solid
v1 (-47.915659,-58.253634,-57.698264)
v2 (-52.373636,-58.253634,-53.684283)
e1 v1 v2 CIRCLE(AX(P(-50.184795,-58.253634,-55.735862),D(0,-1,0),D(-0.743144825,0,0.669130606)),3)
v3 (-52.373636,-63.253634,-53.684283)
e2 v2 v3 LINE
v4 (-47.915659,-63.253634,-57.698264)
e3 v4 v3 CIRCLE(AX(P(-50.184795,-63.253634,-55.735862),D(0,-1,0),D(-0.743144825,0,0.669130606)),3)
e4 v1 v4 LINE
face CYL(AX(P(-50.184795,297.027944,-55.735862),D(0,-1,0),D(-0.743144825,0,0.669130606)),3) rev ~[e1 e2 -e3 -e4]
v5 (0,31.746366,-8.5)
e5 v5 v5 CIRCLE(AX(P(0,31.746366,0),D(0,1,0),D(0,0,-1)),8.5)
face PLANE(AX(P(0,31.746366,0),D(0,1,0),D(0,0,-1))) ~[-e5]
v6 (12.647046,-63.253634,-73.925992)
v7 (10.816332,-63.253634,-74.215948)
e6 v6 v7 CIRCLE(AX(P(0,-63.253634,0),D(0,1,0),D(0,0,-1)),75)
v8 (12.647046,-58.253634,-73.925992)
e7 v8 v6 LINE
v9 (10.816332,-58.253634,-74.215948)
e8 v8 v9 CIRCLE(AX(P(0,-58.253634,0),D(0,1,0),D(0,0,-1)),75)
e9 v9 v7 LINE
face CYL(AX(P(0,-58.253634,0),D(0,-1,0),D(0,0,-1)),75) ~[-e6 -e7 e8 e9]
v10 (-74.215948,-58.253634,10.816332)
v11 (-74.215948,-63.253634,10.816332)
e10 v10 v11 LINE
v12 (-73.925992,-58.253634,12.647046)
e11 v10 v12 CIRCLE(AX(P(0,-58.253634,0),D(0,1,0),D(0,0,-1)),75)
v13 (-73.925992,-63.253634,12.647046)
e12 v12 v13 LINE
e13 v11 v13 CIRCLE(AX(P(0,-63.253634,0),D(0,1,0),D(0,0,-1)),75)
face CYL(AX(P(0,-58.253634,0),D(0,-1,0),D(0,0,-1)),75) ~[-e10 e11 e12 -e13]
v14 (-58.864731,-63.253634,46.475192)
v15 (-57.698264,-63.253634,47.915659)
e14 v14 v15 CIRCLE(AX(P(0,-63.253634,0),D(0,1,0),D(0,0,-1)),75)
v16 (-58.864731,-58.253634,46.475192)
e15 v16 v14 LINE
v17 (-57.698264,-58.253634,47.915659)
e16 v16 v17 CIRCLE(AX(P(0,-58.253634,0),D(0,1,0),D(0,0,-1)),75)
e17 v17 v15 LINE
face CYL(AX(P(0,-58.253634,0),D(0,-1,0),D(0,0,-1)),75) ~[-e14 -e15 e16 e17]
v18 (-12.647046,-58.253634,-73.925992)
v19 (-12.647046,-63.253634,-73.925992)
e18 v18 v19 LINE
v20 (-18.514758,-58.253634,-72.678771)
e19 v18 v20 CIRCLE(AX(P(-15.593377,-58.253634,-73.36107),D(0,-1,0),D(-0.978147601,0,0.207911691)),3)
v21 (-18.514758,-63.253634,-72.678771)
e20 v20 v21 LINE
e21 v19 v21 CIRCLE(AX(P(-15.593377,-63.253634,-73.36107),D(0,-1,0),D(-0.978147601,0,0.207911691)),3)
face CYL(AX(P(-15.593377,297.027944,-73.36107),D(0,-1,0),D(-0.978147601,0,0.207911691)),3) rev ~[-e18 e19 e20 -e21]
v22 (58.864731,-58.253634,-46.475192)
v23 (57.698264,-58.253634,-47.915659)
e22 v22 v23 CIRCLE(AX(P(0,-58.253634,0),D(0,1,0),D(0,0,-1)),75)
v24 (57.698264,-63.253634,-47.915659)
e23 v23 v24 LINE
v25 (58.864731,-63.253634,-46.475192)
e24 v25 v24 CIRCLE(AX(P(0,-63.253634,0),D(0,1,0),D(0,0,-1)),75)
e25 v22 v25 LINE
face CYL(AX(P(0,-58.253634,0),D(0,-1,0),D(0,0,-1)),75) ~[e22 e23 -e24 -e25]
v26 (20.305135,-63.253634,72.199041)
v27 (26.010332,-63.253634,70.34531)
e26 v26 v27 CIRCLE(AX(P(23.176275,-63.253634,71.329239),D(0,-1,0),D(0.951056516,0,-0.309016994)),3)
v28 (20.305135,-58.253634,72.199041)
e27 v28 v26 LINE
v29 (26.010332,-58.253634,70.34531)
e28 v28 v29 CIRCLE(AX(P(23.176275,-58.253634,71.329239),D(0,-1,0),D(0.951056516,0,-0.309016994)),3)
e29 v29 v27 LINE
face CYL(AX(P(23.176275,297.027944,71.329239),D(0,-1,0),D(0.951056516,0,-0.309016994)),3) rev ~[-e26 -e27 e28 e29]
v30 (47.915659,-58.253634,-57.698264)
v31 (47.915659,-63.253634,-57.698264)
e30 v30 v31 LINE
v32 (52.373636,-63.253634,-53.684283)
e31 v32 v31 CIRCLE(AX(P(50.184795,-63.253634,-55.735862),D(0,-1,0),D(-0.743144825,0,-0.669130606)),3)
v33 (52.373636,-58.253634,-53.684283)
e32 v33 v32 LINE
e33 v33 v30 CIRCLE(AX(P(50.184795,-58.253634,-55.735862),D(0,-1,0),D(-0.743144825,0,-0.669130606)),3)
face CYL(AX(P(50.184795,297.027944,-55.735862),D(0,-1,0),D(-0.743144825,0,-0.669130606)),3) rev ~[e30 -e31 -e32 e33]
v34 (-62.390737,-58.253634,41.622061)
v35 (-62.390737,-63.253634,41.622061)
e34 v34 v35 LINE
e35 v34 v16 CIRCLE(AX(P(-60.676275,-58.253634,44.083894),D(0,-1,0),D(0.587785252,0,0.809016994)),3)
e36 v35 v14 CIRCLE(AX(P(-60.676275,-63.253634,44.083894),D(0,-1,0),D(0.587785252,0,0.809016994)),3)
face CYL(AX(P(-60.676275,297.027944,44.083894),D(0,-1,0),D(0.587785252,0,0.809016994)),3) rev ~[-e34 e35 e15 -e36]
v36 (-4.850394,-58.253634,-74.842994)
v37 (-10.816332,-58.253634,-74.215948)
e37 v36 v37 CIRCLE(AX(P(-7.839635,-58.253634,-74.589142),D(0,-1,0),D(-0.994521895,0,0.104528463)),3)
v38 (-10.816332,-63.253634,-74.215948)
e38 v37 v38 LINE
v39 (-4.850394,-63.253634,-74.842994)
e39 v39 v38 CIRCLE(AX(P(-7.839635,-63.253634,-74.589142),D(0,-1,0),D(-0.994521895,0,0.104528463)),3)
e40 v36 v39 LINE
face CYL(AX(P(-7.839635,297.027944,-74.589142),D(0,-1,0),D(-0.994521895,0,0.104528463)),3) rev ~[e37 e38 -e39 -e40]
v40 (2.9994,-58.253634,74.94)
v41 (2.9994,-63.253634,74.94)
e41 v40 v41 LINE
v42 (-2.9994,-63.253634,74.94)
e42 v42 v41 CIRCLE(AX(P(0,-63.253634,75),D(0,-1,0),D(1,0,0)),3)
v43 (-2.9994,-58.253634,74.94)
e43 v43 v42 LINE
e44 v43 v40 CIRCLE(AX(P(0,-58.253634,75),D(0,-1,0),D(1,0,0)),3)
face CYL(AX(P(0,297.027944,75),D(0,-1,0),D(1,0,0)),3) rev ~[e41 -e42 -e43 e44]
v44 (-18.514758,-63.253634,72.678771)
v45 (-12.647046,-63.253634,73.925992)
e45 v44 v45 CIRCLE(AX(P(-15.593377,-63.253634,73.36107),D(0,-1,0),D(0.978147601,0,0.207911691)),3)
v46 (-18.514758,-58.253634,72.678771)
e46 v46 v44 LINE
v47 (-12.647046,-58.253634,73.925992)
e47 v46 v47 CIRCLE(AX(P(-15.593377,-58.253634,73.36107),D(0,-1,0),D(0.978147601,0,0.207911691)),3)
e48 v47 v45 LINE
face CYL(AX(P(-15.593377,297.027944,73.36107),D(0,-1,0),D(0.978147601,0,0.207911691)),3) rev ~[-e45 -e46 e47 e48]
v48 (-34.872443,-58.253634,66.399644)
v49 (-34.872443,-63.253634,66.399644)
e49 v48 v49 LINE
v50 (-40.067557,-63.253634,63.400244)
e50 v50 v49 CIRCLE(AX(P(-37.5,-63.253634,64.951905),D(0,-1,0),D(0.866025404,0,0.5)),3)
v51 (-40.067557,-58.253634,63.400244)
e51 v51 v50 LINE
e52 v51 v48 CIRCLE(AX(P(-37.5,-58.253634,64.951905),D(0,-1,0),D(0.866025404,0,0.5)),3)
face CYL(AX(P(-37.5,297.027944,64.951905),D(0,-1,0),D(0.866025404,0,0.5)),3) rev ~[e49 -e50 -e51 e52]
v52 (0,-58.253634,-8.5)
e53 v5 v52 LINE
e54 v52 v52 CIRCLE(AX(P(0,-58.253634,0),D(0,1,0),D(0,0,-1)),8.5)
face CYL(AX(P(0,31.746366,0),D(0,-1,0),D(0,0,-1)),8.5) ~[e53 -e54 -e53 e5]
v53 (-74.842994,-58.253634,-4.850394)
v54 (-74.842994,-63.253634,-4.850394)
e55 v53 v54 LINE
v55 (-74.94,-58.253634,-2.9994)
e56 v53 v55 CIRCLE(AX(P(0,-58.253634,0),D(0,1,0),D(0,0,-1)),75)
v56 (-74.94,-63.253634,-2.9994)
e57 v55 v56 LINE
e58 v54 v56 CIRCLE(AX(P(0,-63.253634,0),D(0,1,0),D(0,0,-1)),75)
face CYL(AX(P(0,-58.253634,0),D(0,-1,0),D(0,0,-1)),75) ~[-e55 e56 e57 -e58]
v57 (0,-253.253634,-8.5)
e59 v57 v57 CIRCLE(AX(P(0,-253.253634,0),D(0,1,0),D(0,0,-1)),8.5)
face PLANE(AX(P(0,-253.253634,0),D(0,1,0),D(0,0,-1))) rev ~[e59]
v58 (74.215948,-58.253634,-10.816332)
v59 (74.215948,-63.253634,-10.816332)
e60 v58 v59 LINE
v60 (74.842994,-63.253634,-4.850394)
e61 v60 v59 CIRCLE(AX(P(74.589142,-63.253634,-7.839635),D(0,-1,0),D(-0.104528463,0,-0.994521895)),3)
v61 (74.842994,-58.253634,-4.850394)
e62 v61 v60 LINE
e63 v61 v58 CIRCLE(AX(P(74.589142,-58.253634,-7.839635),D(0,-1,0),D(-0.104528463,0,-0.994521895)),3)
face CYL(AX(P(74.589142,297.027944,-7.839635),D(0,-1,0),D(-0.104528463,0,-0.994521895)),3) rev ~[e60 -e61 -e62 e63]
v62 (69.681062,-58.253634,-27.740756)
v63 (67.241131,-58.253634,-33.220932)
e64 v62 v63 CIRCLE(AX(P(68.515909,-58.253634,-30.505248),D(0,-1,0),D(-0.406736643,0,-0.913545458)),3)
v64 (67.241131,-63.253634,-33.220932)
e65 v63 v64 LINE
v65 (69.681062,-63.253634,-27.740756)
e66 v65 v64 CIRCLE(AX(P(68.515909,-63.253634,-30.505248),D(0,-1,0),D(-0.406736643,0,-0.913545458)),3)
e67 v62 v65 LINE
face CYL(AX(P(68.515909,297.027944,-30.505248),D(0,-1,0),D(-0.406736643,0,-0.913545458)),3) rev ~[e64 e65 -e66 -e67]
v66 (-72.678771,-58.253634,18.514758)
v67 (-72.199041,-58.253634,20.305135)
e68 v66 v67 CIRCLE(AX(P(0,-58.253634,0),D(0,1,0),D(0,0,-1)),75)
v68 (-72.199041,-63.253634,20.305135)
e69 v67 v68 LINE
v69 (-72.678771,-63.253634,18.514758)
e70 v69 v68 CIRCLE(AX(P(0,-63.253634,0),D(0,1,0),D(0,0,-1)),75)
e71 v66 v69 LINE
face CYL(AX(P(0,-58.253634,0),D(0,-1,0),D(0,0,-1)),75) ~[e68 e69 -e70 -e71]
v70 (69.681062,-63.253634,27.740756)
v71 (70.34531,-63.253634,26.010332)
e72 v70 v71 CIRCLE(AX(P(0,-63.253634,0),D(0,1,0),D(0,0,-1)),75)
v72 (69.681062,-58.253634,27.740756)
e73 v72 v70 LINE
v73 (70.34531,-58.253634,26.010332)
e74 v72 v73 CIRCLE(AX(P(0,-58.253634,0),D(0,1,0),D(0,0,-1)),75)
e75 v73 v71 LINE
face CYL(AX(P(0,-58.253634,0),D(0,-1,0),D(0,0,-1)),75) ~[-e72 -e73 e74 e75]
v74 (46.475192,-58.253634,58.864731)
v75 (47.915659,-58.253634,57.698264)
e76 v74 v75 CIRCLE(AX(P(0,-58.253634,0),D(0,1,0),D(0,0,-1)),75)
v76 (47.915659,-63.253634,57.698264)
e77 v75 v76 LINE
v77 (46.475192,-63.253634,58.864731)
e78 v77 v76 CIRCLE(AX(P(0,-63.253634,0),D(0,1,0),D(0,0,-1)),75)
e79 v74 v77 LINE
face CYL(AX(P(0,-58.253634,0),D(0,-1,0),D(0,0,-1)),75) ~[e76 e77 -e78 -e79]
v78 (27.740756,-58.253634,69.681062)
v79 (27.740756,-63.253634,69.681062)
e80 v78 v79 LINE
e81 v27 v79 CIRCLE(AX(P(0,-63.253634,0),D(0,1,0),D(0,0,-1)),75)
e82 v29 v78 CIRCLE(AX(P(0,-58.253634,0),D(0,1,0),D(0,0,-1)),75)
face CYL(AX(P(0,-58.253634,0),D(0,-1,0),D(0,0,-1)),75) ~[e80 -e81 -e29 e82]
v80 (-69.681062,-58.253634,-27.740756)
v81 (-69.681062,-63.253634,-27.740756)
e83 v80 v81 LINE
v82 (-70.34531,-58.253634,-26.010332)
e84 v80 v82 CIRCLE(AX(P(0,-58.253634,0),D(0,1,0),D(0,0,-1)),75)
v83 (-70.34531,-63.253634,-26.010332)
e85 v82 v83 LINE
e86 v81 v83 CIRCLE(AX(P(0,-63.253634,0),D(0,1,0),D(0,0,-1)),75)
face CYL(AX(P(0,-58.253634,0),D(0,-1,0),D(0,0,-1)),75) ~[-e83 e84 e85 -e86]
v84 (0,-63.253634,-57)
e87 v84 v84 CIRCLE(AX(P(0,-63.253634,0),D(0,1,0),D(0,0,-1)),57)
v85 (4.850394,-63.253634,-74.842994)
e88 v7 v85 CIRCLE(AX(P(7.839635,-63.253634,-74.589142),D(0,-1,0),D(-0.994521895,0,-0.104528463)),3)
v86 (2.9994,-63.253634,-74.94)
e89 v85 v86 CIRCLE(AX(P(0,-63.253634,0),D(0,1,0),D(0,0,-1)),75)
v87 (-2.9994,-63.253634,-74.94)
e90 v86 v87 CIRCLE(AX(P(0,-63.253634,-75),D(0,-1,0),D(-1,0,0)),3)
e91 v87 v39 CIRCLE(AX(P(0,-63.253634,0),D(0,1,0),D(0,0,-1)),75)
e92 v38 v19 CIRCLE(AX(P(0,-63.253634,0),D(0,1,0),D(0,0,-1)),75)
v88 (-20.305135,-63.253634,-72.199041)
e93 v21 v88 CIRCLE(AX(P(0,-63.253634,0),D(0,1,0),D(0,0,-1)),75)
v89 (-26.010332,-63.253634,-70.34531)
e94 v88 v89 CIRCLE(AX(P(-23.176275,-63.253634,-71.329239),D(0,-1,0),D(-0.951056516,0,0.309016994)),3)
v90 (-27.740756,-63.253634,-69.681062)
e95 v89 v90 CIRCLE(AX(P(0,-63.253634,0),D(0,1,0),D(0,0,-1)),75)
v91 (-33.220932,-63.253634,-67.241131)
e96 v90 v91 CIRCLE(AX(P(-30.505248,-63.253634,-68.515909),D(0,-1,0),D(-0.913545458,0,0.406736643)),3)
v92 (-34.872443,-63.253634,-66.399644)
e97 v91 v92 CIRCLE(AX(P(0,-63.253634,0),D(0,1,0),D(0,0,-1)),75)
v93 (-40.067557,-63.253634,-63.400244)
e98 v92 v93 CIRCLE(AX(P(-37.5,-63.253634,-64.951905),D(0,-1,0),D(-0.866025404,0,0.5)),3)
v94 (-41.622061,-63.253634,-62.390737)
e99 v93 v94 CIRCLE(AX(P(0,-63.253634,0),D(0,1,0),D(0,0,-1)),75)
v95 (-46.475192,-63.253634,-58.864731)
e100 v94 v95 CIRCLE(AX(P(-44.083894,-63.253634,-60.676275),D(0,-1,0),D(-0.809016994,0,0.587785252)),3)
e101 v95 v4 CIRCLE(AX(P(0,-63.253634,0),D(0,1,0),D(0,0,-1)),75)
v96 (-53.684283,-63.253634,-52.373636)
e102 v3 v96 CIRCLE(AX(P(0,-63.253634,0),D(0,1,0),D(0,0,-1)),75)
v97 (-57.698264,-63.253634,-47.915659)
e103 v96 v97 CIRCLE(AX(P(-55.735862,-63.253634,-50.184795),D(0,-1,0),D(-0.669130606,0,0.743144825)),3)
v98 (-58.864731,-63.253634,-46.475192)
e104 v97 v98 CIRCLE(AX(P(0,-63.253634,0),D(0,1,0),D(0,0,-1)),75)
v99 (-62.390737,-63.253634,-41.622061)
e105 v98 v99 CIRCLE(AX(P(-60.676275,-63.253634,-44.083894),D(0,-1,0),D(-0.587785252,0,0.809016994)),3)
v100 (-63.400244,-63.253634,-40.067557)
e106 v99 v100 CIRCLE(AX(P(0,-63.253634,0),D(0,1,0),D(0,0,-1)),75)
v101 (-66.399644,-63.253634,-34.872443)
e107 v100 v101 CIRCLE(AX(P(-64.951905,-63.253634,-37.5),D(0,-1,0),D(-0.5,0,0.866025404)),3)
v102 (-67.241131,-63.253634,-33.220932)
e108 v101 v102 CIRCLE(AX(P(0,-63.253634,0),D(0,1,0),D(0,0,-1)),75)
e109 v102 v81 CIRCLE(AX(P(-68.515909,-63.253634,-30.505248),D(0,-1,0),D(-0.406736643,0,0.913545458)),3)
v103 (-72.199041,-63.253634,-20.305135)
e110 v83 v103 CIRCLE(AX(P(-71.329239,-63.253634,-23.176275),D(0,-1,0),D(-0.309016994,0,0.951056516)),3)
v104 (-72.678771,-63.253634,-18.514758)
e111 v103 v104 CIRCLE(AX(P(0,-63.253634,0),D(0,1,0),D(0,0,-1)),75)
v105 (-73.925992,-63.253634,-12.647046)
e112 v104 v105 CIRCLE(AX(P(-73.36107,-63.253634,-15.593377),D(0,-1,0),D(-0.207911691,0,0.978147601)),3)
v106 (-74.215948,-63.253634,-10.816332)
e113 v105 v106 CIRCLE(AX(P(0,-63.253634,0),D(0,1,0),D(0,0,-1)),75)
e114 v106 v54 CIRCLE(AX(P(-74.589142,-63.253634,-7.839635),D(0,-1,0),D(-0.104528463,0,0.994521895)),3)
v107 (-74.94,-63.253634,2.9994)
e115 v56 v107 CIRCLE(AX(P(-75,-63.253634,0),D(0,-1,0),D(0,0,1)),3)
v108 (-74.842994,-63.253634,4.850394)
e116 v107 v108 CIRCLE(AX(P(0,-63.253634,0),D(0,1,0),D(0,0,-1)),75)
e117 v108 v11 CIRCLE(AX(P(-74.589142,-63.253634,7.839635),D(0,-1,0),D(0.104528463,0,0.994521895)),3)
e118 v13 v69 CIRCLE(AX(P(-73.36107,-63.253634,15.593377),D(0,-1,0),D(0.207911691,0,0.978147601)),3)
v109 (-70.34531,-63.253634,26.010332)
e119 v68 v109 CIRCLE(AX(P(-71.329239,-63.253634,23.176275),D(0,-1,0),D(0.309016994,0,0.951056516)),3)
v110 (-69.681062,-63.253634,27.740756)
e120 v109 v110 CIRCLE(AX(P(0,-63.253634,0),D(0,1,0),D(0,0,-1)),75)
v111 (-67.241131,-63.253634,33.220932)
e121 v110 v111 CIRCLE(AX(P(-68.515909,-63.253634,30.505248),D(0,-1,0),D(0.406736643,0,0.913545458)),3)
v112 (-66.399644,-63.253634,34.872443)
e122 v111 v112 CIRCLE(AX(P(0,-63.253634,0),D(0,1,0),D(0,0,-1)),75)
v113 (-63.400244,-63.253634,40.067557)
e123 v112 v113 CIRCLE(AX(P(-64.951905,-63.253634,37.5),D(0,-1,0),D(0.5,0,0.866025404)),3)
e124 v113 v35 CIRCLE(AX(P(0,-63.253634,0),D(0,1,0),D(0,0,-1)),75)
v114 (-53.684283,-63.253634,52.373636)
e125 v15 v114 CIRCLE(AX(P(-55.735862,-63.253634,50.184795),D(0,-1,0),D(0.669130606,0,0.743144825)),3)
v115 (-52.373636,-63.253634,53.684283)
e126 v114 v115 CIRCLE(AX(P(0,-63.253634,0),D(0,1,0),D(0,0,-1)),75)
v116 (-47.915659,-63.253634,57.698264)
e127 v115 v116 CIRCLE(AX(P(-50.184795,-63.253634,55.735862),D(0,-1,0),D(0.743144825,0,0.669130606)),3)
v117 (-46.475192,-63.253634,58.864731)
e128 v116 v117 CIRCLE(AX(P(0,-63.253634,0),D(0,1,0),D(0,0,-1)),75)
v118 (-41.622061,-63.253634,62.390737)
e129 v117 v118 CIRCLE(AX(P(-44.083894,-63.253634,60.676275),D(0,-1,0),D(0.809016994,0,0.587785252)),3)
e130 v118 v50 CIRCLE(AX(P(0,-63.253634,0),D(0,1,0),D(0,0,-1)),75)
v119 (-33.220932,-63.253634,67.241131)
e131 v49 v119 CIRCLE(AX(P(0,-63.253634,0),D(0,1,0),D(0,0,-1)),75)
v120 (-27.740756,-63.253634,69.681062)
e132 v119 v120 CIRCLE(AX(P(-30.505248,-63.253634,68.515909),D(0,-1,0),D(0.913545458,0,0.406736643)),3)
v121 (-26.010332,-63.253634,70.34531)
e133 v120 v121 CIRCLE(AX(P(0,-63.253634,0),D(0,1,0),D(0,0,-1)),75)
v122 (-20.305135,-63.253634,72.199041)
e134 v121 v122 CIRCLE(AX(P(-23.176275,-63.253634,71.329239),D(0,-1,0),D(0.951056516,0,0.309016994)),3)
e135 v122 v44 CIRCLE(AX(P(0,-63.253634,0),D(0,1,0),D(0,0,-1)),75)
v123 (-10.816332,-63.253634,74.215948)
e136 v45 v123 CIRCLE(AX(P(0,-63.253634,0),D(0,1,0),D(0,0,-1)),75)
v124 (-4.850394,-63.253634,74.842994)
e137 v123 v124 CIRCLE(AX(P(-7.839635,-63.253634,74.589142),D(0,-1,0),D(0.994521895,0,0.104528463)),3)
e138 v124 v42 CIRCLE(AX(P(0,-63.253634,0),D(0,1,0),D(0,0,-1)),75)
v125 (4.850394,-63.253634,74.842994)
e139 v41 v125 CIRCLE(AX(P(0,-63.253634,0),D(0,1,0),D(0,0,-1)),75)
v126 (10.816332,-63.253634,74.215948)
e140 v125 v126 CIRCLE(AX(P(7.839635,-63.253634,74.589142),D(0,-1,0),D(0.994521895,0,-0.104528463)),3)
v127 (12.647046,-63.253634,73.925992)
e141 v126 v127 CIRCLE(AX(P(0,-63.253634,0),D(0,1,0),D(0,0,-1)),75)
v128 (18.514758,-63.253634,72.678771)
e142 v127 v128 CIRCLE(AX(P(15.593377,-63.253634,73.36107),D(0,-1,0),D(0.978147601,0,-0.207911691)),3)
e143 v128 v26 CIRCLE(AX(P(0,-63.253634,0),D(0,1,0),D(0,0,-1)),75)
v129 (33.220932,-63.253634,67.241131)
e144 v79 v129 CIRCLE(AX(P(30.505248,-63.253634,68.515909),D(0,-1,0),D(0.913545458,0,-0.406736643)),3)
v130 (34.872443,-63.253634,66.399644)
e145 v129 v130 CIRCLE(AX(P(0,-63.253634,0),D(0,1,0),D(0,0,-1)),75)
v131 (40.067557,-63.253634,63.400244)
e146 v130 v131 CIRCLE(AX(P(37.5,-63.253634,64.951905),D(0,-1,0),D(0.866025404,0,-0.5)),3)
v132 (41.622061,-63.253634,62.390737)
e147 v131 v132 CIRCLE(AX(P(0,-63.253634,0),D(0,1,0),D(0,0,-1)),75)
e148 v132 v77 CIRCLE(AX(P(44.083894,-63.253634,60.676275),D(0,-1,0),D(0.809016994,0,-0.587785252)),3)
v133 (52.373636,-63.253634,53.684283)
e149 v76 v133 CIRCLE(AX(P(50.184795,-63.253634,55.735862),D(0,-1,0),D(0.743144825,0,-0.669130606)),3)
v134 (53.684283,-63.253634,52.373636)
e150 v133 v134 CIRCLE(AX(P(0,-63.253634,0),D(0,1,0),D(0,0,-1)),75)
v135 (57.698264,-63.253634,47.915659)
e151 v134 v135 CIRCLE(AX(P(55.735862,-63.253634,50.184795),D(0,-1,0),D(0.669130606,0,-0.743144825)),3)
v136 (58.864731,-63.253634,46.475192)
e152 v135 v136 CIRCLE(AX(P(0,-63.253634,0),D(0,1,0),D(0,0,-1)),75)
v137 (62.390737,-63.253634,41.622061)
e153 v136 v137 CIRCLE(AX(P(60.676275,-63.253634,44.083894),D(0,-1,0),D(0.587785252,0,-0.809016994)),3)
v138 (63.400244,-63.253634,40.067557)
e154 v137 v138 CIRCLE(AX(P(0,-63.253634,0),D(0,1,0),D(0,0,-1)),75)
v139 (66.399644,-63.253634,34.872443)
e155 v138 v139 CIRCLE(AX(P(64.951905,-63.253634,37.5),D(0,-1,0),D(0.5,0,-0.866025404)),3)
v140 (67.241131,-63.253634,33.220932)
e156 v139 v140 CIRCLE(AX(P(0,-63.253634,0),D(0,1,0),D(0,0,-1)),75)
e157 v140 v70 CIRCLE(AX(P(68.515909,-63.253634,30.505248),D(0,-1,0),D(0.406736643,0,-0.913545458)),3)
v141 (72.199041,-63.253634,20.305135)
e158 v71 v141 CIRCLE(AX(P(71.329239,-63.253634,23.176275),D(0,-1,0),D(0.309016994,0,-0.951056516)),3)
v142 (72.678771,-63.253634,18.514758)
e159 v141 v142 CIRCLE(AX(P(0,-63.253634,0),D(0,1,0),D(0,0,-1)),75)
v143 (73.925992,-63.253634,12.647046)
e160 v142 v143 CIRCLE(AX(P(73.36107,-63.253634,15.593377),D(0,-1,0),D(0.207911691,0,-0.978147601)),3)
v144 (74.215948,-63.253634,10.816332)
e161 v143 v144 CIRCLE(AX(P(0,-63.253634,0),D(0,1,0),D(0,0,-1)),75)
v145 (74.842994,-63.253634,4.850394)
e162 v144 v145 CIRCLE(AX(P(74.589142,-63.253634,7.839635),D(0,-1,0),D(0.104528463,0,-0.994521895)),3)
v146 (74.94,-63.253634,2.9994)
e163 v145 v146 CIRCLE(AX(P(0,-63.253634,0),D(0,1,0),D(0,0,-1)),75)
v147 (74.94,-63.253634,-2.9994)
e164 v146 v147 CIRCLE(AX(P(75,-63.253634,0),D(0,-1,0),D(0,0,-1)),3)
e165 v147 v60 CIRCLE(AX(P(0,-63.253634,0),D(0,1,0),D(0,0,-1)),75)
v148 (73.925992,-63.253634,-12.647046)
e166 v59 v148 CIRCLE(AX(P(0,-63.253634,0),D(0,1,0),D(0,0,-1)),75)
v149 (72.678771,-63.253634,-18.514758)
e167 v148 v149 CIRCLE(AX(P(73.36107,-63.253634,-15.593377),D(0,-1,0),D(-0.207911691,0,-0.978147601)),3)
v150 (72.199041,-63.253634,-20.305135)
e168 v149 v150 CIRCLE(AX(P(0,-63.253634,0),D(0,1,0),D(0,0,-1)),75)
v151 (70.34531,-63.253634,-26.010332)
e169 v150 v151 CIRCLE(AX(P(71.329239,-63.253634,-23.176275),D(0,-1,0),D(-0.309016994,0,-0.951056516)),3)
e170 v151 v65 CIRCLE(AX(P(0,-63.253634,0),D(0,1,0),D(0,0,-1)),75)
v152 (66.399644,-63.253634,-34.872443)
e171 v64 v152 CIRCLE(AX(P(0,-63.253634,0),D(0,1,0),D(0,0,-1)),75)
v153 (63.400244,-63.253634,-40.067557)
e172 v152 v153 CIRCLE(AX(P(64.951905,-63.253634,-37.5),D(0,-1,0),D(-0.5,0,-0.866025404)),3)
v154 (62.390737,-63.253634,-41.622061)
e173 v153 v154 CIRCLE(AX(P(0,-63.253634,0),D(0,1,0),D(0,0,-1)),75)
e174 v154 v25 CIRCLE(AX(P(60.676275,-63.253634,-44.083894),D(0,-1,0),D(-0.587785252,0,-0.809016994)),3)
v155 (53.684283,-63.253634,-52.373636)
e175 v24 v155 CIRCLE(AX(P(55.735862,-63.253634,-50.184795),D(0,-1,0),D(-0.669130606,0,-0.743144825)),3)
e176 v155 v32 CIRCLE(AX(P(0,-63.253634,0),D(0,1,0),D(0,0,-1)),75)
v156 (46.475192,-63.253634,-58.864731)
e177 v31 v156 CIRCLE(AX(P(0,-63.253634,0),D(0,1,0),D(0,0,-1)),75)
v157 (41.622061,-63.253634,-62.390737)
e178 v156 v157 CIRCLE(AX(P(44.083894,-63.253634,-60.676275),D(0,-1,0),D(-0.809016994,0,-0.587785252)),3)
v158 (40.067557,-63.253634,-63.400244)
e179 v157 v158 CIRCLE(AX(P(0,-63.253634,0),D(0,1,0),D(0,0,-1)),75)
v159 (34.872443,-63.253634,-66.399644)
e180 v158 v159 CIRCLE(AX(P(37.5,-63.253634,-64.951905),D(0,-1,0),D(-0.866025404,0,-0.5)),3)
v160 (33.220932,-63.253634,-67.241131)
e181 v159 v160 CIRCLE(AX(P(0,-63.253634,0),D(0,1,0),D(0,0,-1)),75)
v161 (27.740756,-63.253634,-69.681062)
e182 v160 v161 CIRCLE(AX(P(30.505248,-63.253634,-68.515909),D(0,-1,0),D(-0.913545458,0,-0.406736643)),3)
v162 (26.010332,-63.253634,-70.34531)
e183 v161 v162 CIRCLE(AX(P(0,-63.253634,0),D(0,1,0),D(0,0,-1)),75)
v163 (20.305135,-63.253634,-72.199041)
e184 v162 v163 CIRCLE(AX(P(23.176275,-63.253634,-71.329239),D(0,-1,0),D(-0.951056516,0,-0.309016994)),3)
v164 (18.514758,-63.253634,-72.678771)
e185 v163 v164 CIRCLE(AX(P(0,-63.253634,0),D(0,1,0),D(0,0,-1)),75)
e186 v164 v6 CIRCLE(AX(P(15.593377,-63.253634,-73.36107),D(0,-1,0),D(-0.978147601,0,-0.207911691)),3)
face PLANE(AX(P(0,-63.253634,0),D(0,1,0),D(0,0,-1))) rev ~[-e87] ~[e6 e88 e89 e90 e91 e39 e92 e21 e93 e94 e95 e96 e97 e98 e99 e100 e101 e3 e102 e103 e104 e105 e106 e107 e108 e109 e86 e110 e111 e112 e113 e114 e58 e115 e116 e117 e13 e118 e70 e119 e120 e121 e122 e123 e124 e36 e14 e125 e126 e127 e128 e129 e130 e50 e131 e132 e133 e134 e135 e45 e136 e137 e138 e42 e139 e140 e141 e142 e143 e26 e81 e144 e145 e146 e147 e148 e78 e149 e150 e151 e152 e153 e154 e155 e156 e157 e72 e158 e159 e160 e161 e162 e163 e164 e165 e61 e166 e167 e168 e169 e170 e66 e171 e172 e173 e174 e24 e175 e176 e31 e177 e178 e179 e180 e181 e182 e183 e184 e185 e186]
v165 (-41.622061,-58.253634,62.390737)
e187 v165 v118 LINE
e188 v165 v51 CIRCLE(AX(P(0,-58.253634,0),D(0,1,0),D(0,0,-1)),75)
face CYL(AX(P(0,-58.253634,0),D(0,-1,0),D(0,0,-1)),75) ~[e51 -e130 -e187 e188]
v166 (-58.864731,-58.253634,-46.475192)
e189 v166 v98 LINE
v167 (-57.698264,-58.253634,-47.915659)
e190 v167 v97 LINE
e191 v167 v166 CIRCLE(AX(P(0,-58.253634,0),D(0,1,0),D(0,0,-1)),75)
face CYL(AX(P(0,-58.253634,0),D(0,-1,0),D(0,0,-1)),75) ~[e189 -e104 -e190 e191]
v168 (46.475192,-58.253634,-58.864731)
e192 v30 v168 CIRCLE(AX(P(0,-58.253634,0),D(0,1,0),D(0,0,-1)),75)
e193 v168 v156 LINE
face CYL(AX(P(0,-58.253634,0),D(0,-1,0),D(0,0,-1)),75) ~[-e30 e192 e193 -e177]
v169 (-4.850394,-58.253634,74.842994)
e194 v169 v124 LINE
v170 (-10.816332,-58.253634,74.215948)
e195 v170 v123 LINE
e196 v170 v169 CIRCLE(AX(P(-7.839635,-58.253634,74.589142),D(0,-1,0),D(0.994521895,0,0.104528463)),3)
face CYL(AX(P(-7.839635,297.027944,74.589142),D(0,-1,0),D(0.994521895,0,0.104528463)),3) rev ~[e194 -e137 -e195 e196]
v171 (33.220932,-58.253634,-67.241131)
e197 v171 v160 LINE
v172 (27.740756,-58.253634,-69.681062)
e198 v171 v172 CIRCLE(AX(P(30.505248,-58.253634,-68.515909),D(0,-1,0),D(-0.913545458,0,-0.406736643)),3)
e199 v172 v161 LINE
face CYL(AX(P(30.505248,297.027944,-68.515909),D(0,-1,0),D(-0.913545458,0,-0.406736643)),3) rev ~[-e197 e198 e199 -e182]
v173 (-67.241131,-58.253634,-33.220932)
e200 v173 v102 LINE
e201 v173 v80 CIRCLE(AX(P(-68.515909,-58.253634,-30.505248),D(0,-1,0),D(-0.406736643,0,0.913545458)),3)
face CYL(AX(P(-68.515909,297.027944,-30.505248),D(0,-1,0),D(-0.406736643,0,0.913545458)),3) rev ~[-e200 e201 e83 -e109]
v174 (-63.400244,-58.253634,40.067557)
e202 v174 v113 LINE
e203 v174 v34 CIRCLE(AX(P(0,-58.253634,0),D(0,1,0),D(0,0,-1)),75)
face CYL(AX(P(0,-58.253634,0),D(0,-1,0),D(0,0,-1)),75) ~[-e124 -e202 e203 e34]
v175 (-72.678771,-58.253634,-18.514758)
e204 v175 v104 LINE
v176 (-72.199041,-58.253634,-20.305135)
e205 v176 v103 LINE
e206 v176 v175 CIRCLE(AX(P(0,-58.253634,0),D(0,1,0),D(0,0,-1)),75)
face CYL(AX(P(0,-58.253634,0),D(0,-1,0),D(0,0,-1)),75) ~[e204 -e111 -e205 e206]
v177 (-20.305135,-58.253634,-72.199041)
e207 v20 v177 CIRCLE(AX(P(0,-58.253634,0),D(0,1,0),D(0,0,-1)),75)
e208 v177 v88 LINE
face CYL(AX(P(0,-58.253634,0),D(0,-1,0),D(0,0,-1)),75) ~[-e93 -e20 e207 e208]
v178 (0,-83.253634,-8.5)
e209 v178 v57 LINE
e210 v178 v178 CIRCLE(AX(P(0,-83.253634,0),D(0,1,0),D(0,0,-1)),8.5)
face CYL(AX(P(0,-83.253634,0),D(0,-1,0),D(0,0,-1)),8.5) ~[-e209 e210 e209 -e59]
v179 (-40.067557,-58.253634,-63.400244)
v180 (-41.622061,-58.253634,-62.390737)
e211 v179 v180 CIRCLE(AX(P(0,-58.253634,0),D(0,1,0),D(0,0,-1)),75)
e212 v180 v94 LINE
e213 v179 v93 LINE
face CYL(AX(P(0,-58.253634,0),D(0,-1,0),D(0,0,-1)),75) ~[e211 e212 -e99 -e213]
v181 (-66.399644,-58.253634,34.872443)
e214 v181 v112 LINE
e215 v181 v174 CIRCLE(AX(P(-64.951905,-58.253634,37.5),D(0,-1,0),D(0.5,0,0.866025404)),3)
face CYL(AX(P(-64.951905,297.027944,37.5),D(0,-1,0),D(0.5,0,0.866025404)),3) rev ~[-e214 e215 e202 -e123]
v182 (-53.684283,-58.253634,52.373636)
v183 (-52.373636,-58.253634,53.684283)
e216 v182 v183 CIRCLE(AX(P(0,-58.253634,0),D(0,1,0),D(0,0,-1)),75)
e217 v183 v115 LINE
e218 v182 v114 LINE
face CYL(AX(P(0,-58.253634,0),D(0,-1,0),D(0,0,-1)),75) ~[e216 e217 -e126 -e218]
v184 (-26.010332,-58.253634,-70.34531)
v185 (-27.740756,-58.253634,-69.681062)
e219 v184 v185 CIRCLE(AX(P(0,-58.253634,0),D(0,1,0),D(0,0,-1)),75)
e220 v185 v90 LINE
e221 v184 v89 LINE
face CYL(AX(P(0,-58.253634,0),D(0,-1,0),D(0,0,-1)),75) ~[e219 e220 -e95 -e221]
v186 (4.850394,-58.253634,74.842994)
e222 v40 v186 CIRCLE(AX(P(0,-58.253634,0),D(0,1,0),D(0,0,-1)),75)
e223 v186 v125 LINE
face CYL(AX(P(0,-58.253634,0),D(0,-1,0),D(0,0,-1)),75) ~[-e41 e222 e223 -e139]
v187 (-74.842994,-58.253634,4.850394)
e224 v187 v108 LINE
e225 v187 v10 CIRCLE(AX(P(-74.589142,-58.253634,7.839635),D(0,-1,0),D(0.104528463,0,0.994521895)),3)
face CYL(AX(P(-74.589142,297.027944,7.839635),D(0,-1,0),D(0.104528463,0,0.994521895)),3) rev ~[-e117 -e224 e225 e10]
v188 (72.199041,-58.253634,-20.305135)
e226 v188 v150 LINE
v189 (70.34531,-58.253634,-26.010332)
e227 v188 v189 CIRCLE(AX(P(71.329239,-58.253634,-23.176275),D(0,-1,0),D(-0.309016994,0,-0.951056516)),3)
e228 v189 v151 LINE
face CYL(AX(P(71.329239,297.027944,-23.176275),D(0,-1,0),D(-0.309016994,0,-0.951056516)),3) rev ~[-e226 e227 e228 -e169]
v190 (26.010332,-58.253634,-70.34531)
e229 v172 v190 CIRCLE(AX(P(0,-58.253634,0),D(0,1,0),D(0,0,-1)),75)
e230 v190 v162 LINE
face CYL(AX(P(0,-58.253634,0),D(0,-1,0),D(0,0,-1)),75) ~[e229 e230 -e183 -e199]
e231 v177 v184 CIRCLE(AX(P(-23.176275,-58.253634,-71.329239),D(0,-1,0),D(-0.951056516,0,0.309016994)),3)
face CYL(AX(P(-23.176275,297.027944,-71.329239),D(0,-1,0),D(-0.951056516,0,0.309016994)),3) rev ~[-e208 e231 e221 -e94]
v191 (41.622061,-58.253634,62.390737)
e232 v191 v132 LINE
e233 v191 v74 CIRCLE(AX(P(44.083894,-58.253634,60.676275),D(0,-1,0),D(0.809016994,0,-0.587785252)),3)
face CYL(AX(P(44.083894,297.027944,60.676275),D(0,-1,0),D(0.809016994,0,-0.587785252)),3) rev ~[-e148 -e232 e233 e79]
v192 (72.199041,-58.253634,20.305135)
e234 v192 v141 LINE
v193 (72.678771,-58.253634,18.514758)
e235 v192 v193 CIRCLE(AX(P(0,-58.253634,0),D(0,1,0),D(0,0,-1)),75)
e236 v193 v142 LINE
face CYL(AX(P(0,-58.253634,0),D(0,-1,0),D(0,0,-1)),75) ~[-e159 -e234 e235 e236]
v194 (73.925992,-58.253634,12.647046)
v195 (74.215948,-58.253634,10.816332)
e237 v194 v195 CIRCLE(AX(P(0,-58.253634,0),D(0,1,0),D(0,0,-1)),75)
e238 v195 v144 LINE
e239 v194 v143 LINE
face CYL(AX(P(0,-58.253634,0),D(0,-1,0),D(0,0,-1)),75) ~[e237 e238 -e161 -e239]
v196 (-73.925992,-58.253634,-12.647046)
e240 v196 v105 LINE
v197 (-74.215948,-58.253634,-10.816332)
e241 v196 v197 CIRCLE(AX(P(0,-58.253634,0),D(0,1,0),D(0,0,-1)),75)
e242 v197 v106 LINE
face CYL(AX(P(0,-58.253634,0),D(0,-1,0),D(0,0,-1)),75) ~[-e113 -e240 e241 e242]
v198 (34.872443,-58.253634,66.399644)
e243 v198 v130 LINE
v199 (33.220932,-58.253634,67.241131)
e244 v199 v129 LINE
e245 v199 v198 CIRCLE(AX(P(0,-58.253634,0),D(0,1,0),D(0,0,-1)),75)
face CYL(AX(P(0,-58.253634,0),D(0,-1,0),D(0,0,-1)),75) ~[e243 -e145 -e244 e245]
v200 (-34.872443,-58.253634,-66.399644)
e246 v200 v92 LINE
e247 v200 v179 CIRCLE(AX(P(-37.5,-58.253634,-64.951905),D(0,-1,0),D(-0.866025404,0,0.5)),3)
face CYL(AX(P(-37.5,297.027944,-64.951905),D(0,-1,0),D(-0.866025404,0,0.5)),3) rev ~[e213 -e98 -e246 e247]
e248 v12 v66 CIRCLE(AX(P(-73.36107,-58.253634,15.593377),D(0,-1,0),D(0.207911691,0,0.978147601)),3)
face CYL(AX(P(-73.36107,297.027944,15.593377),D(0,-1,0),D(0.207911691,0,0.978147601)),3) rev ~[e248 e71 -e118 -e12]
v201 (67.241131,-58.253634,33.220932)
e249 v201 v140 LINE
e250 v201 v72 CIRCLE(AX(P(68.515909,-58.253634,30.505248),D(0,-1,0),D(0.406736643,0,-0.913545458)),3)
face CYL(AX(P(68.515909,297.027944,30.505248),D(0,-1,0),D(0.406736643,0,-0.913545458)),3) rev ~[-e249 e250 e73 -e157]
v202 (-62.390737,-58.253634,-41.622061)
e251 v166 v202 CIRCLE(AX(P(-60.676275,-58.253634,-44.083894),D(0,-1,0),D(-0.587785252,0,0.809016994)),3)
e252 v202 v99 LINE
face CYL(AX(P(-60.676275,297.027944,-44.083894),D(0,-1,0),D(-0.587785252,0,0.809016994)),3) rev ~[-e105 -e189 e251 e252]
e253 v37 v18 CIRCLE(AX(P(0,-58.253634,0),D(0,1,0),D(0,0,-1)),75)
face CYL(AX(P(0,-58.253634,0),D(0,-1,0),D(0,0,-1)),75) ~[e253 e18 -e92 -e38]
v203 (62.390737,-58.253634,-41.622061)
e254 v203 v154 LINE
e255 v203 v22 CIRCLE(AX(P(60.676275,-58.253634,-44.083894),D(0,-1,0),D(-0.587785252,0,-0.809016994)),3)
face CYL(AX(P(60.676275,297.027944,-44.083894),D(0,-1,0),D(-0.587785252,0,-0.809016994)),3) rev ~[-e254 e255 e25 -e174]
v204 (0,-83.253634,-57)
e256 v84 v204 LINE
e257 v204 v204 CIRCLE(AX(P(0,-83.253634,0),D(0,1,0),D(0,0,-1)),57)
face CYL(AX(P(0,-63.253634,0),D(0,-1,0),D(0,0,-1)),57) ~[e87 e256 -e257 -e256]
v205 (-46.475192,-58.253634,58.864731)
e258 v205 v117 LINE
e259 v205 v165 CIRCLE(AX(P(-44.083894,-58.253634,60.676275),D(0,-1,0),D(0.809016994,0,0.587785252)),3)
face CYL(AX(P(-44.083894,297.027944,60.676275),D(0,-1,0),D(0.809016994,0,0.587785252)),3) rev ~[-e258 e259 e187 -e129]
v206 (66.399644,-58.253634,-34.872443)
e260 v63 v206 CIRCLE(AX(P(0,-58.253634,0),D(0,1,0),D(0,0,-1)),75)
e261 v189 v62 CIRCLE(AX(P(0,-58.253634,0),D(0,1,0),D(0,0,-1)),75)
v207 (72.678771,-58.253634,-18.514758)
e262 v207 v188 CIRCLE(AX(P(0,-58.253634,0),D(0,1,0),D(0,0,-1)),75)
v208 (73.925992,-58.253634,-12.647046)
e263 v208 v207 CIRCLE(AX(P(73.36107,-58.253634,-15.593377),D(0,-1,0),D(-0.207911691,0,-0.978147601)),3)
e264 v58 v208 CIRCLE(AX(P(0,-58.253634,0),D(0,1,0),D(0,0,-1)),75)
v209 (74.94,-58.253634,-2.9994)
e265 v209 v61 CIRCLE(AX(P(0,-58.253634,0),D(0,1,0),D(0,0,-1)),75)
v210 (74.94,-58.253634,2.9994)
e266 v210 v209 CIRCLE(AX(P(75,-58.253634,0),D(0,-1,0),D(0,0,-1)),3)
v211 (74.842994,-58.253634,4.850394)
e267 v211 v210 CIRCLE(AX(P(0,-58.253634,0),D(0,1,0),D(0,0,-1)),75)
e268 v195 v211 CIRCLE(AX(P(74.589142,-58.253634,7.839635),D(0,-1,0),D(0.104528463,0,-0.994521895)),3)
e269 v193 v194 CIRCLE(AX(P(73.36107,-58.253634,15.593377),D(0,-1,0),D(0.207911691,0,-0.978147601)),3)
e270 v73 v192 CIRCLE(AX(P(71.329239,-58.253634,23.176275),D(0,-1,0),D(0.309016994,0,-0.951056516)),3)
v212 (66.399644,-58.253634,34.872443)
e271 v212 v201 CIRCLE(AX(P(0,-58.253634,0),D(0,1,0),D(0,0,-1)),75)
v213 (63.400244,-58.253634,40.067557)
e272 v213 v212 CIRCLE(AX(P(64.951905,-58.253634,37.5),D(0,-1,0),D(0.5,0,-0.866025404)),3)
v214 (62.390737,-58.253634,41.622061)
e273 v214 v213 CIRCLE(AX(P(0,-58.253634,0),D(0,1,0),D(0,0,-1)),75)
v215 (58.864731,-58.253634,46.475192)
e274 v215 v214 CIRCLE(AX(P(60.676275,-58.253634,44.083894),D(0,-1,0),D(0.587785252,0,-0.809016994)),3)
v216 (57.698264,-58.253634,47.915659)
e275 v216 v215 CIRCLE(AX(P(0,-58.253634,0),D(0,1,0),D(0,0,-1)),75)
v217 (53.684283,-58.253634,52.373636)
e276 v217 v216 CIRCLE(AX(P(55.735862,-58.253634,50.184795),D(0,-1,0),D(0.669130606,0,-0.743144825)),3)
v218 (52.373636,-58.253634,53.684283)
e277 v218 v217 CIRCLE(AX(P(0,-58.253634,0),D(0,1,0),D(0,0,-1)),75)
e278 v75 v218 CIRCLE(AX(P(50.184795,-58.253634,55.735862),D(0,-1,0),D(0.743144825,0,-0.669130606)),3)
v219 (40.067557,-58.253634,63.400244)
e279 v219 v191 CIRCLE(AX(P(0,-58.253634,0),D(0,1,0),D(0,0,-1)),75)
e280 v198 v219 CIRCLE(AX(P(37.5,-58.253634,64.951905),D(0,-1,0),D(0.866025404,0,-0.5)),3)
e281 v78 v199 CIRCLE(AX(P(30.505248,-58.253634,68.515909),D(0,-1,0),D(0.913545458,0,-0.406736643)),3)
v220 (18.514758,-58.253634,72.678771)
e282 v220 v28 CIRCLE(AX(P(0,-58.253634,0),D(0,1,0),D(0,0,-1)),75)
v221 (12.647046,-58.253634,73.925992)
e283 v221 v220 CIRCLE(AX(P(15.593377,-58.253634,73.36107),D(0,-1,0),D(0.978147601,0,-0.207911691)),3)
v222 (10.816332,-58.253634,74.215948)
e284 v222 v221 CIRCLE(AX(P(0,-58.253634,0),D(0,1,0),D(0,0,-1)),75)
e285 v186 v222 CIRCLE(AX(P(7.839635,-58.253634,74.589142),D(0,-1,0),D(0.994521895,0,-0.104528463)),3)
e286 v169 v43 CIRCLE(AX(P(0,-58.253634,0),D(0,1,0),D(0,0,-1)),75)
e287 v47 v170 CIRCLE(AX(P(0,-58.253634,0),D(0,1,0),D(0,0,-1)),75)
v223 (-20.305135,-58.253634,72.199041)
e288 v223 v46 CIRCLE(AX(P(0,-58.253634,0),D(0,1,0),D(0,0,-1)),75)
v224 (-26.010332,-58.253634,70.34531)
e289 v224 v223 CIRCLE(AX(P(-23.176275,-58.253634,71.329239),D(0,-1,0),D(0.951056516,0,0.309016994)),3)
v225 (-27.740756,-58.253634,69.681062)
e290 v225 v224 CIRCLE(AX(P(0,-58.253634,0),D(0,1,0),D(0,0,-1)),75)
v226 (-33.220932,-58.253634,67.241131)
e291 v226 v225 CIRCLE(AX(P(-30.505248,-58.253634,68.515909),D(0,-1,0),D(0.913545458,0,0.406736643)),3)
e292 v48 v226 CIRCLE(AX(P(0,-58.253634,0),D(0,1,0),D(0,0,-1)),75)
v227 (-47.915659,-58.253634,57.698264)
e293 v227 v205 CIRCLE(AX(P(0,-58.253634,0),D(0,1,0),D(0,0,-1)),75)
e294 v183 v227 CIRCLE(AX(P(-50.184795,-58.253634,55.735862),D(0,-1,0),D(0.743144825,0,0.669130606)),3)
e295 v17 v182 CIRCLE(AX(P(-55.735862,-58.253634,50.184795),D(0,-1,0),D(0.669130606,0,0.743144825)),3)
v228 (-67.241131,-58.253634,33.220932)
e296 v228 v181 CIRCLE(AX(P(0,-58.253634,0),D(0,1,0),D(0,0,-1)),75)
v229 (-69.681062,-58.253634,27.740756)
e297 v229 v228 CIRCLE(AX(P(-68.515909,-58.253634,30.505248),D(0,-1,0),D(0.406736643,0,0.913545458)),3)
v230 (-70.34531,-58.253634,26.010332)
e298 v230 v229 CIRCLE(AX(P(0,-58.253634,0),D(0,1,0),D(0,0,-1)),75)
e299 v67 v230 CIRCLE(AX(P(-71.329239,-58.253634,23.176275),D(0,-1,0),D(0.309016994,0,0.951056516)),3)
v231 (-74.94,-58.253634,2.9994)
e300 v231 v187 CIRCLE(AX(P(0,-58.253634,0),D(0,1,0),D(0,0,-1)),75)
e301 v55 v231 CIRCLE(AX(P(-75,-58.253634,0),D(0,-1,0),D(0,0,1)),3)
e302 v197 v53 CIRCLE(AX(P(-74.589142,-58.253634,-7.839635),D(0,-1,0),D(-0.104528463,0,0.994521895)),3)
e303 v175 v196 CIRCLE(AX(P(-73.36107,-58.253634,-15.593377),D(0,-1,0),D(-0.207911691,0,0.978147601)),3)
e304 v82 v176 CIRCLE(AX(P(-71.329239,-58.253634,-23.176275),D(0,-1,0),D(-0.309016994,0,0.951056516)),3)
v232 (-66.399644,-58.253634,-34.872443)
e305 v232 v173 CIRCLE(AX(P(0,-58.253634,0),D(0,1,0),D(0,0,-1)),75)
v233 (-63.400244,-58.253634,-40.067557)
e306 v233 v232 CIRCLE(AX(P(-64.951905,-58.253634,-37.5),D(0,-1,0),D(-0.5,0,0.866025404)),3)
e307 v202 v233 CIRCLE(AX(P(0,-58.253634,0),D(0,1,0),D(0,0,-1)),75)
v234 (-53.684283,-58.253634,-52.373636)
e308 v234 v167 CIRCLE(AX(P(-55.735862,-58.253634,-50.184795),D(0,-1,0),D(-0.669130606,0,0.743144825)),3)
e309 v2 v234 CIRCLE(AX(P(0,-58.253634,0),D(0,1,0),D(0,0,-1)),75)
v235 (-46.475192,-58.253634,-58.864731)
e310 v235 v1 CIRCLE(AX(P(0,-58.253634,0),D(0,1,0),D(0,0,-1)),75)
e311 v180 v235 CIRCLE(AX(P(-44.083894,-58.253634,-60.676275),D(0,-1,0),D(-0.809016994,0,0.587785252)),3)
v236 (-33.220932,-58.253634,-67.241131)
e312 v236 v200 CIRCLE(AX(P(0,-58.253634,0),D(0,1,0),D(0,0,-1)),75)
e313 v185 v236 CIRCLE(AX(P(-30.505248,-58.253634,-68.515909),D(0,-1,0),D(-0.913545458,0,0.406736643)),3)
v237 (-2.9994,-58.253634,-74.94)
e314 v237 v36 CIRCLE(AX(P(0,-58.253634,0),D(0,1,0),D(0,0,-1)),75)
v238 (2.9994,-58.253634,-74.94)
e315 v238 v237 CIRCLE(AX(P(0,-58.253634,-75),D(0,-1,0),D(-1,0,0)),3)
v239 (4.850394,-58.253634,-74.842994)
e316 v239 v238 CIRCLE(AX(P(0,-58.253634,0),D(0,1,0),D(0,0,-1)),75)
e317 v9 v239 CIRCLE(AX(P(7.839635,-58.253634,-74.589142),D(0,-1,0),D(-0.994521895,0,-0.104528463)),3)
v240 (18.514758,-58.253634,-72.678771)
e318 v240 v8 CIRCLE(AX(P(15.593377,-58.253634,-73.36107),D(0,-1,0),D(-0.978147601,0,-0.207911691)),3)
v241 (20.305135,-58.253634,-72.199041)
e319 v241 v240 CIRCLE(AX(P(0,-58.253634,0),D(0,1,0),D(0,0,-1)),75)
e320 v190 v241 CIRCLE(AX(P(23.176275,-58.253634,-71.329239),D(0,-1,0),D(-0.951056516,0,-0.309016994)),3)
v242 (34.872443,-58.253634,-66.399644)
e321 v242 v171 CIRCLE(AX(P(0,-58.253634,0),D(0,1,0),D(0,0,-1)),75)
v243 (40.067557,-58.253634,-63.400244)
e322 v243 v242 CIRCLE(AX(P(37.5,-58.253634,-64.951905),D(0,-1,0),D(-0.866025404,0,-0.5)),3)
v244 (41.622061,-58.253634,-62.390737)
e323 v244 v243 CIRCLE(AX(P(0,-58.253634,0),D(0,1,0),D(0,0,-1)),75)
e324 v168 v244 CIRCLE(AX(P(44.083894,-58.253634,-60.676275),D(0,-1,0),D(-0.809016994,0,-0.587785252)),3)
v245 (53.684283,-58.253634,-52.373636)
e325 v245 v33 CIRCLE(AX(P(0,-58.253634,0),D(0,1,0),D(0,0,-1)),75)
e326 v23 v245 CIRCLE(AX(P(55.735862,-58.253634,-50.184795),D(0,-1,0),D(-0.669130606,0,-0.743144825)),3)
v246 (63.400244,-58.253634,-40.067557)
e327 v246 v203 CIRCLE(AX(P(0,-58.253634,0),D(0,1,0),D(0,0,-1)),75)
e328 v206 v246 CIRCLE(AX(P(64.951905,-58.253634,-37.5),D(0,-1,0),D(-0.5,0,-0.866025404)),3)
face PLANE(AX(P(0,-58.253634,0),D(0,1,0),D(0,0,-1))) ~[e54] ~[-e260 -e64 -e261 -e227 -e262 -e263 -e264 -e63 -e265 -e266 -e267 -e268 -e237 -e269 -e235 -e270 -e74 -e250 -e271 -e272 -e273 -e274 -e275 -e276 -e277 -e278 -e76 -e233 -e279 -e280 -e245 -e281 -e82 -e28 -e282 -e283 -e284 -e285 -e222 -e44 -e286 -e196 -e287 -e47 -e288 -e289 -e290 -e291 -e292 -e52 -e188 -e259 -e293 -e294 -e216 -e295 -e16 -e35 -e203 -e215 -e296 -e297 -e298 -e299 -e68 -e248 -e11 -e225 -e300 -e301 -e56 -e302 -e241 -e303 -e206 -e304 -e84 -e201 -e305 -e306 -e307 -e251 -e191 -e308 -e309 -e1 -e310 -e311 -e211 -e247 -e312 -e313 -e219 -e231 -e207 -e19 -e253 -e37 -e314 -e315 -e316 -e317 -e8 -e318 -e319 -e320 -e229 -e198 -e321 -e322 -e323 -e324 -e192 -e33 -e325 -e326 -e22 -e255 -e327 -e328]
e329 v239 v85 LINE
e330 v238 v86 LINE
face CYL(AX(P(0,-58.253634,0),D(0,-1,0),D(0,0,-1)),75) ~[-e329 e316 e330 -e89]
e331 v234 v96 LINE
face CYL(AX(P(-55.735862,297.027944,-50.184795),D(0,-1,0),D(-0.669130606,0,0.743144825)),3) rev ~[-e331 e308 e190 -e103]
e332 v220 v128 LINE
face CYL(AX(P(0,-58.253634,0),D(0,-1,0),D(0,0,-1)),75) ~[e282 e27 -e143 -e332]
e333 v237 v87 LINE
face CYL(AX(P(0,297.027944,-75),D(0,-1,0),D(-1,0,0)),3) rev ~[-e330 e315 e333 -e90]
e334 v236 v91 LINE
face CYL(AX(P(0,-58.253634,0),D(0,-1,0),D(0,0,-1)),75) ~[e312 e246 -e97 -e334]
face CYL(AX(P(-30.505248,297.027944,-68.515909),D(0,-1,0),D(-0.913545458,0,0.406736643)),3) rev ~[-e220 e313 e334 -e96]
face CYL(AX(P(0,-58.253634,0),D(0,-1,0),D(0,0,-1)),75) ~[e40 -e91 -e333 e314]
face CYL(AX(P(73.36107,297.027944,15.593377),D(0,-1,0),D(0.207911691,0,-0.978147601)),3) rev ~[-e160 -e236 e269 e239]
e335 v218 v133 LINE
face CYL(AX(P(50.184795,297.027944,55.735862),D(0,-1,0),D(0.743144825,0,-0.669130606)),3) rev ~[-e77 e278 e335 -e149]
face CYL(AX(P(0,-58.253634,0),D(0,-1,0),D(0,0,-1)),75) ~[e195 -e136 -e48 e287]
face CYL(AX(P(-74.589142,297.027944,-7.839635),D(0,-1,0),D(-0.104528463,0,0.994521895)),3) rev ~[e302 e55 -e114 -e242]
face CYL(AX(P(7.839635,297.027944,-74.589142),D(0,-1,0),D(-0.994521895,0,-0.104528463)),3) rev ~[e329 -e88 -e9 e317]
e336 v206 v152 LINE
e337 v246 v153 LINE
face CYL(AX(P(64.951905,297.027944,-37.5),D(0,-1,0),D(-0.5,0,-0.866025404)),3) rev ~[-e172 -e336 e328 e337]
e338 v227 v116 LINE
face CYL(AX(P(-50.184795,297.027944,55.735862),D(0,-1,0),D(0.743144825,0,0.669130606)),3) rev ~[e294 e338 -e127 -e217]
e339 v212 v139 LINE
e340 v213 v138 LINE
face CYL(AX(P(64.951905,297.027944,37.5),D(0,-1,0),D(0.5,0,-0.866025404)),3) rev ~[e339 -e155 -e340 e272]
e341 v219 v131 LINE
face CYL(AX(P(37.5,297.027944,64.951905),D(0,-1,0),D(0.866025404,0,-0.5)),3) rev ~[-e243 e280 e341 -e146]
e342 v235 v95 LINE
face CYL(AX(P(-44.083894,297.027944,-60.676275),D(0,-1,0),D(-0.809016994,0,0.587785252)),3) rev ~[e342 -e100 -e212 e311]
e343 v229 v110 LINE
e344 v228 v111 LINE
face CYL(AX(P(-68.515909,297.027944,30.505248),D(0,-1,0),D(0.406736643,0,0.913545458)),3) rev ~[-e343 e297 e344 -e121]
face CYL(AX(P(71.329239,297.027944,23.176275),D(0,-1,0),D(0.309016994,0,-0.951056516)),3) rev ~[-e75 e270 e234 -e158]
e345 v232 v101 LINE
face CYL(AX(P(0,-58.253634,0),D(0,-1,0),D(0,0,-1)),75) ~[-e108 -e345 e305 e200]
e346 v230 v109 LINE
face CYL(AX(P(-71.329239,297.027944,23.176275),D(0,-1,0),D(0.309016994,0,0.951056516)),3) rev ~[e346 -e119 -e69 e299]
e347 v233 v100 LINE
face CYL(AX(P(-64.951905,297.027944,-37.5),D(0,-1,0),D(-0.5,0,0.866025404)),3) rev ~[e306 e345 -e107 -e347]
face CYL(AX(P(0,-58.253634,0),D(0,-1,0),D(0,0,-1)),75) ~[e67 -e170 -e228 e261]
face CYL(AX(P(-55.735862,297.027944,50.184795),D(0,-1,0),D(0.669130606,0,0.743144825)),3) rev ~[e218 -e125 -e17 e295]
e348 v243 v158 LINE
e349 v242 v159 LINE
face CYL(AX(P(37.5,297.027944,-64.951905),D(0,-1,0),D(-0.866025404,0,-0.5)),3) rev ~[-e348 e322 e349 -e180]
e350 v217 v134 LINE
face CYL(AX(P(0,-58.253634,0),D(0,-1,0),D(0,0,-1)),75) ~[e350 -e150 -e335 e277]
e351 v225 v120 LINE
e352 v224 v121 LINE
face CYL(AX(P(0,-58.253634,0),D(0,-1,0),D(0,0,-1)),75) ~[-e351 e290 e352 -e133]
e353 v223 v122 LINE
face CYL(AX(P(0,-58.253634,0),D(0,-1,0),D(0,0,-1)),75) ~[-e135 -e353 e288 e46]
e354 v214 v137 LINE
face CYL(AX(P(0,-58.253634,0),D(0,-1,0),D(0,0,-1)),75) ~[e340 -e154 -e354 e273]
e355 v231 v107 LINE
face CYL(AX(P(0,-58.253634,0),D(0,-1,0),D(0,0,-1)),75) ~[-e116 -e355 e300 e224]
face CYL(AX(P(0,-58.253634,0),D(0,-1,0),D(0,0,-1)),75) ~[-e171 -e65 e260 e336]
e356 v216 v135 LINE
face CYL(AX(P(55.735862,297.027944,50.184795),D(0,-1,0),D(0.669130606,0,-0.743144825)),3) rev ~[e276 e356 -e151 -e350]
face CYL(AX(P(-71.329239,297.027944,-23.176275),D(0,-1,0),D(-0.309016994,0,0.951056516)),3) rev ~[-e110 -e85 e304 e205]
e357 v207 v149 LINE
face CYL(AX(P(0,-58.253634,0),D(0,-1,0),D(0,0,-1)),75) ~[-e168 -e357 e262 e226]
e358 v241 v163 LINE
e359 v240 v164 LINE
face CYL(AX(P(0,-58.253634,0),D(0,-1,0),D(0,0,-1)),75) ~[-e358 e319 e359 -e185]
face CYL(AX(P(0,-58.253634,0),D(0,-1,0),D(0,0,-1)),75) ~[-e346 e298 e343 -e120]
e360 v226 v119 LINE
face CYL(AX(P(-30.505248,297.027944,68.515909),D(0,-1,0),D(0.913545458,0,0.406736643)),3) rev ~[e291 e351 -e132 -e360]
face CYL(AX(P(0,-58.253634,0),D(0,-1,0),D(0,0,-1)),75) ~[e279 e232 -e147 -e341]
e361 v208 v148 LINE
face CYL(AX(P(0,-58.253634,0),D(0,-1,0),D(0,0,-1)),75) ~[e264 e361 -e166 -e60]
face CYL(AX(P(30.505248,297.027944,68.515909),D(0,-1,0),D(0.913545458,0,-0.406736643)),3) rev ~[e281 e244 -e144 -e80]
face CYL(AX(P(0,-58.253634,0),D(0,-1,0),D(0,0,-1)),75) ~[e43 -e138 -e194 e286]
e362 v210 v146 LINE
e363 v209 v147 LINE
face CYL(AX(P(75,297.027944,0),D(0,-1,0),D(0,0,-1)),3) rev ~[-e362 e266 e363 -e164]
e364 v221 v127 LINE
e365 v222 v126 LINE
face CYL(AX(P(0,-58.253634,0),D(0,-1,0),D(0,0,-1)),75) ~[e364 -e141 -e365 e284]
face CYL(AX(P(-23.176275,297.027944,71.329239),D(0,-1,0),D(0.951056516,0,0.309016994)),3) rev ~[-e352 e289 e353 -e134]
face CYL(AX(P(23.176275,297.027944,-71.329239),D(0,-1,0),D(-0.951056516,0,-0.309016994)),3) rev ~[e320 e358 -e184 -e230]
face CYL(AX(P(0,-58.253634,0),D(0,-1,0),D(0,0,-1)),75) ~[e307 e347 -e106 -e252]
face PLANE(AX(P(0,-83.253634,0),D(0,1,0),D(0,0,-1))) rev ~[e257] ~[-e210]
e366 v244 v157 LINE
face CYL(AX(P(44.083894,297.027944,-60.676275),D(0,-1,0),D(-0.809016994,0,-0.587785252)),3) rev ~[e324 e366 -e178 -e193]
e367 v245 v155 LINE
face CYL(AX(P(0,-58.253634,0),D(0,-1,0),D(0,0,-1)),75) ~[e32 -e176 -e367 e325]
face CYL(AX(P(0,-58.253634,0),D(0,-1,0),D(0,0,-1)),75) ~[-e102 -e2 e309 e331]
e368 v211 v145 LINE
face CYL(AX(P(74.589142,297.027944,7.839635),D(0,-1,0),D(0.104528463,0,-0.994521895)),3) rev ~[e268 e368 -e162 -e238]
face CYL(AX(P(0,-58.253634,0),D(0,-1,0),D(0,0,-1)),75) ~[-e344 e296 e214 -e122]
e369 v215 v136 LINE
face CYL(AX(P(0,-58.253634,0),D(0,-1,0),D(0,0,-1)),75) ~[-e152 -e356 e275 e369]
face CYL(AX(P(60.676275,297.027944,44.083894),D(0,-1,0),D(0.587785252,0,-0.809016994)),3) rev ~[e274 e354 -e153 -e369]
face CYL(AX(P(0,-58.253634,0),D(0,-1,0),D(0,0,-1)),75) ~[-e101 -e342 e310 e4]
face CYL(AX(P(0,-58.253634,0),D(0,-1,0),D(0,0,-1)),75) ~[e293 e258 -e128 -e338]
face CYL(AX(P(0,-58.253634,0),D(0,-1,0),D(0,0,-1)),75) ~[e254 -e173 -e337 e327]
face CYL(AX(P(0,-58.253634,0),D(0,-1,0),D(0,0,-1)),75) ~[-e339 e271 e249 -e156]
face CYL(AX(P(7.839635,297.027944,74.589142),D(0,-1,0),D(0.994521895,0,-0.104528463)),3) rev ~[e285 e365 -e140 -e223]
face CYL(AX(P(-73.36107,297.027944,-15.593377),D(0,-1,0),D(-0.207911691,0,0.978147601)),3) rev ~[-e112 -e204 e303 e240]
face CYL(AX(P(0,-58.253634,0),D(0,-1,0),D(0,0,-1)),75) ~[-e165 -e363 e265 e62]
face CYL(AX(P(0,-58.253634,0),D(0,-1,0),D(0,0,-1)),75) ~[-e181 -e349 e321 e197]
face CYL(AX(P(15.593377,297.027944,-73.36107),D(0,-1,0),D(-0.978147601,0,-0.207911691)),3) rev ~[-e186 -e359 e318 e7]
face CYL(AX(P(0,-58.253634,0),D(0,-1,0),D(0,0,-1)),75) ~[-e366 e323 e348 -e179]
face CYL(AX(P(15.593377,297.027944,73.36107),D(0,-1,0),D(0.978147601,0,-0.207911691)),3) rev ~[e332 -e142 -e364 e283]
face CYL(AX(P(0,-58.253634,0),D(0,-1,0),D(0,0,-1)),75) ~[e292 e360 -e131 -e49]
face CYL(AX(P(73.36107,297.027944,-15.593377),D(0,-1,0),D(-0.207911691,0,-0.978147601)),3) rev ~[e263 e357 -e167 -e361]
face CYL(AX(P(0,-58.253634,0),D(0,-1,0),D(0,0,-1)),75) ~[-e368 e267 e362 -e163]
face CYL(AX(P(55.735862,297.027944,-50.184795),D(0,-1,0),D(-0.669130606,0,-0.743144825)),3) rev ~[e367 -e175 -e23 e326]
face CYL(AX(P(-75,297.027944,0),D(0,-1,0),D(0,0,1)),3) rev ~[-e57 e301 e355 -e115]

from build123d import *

# Parameters (mm, degrees)
F_6_0MM_DOWEL_HOLE1_D = 6
CIRPATTERN1_COUNT     = 60


with BuildPart() as part:
    # Sketch1 → Revolve1 (revolve)
    with BuildSketch(Plane.XY, mode=Mode.PRIVATE) as revolve1_sk:
        Polygon((0, 31.746365559), (-8.5, 31.746365559), (-8.5, -58.253634441), (-75, -58.253634441), (-75, -63.253634441), (-57, -63.253634441), (-57, -83.253634441), (-8.5, -83.253634441), (-8.5, -253.253634441), (0, -253.253634441), align=None)
    revolve(revolve1_sk.sketch.rotate(Axis((0, -253.253634441, 0), (0, 1, 0)), 270), axis=Axis((0, -253.253634441, 0), (0, 1, 0)))

    # Ø6.0mm Dowel Hole1 (through all)
    with Locations(Plane(origin=(0, -58.253634441, 0), x_dir=(1, 0, 0), z_dir=(0, 1, 0))):
        with Locations((0, 75)):
            f_6_0mm_dowel_hole1 = Hole(F_6_0MM_DOWEL_HOLE1_D / 2)

    # CirPattern1: Ø6.0mm Dowel Hole1 ×60 about axis
    cirpattern1_axis = Axis((0, 0, 0), (0, 1, 0))
    for i in range(1, CIRPATTERN1_COUNT):
        add(f_6_0mm_dowel_hole1.rotate(cirpattern1_axis, i * 360 / CIRPATTERN1_COUNT), mode=Mode.SUBTRACT)


solid = part.part
